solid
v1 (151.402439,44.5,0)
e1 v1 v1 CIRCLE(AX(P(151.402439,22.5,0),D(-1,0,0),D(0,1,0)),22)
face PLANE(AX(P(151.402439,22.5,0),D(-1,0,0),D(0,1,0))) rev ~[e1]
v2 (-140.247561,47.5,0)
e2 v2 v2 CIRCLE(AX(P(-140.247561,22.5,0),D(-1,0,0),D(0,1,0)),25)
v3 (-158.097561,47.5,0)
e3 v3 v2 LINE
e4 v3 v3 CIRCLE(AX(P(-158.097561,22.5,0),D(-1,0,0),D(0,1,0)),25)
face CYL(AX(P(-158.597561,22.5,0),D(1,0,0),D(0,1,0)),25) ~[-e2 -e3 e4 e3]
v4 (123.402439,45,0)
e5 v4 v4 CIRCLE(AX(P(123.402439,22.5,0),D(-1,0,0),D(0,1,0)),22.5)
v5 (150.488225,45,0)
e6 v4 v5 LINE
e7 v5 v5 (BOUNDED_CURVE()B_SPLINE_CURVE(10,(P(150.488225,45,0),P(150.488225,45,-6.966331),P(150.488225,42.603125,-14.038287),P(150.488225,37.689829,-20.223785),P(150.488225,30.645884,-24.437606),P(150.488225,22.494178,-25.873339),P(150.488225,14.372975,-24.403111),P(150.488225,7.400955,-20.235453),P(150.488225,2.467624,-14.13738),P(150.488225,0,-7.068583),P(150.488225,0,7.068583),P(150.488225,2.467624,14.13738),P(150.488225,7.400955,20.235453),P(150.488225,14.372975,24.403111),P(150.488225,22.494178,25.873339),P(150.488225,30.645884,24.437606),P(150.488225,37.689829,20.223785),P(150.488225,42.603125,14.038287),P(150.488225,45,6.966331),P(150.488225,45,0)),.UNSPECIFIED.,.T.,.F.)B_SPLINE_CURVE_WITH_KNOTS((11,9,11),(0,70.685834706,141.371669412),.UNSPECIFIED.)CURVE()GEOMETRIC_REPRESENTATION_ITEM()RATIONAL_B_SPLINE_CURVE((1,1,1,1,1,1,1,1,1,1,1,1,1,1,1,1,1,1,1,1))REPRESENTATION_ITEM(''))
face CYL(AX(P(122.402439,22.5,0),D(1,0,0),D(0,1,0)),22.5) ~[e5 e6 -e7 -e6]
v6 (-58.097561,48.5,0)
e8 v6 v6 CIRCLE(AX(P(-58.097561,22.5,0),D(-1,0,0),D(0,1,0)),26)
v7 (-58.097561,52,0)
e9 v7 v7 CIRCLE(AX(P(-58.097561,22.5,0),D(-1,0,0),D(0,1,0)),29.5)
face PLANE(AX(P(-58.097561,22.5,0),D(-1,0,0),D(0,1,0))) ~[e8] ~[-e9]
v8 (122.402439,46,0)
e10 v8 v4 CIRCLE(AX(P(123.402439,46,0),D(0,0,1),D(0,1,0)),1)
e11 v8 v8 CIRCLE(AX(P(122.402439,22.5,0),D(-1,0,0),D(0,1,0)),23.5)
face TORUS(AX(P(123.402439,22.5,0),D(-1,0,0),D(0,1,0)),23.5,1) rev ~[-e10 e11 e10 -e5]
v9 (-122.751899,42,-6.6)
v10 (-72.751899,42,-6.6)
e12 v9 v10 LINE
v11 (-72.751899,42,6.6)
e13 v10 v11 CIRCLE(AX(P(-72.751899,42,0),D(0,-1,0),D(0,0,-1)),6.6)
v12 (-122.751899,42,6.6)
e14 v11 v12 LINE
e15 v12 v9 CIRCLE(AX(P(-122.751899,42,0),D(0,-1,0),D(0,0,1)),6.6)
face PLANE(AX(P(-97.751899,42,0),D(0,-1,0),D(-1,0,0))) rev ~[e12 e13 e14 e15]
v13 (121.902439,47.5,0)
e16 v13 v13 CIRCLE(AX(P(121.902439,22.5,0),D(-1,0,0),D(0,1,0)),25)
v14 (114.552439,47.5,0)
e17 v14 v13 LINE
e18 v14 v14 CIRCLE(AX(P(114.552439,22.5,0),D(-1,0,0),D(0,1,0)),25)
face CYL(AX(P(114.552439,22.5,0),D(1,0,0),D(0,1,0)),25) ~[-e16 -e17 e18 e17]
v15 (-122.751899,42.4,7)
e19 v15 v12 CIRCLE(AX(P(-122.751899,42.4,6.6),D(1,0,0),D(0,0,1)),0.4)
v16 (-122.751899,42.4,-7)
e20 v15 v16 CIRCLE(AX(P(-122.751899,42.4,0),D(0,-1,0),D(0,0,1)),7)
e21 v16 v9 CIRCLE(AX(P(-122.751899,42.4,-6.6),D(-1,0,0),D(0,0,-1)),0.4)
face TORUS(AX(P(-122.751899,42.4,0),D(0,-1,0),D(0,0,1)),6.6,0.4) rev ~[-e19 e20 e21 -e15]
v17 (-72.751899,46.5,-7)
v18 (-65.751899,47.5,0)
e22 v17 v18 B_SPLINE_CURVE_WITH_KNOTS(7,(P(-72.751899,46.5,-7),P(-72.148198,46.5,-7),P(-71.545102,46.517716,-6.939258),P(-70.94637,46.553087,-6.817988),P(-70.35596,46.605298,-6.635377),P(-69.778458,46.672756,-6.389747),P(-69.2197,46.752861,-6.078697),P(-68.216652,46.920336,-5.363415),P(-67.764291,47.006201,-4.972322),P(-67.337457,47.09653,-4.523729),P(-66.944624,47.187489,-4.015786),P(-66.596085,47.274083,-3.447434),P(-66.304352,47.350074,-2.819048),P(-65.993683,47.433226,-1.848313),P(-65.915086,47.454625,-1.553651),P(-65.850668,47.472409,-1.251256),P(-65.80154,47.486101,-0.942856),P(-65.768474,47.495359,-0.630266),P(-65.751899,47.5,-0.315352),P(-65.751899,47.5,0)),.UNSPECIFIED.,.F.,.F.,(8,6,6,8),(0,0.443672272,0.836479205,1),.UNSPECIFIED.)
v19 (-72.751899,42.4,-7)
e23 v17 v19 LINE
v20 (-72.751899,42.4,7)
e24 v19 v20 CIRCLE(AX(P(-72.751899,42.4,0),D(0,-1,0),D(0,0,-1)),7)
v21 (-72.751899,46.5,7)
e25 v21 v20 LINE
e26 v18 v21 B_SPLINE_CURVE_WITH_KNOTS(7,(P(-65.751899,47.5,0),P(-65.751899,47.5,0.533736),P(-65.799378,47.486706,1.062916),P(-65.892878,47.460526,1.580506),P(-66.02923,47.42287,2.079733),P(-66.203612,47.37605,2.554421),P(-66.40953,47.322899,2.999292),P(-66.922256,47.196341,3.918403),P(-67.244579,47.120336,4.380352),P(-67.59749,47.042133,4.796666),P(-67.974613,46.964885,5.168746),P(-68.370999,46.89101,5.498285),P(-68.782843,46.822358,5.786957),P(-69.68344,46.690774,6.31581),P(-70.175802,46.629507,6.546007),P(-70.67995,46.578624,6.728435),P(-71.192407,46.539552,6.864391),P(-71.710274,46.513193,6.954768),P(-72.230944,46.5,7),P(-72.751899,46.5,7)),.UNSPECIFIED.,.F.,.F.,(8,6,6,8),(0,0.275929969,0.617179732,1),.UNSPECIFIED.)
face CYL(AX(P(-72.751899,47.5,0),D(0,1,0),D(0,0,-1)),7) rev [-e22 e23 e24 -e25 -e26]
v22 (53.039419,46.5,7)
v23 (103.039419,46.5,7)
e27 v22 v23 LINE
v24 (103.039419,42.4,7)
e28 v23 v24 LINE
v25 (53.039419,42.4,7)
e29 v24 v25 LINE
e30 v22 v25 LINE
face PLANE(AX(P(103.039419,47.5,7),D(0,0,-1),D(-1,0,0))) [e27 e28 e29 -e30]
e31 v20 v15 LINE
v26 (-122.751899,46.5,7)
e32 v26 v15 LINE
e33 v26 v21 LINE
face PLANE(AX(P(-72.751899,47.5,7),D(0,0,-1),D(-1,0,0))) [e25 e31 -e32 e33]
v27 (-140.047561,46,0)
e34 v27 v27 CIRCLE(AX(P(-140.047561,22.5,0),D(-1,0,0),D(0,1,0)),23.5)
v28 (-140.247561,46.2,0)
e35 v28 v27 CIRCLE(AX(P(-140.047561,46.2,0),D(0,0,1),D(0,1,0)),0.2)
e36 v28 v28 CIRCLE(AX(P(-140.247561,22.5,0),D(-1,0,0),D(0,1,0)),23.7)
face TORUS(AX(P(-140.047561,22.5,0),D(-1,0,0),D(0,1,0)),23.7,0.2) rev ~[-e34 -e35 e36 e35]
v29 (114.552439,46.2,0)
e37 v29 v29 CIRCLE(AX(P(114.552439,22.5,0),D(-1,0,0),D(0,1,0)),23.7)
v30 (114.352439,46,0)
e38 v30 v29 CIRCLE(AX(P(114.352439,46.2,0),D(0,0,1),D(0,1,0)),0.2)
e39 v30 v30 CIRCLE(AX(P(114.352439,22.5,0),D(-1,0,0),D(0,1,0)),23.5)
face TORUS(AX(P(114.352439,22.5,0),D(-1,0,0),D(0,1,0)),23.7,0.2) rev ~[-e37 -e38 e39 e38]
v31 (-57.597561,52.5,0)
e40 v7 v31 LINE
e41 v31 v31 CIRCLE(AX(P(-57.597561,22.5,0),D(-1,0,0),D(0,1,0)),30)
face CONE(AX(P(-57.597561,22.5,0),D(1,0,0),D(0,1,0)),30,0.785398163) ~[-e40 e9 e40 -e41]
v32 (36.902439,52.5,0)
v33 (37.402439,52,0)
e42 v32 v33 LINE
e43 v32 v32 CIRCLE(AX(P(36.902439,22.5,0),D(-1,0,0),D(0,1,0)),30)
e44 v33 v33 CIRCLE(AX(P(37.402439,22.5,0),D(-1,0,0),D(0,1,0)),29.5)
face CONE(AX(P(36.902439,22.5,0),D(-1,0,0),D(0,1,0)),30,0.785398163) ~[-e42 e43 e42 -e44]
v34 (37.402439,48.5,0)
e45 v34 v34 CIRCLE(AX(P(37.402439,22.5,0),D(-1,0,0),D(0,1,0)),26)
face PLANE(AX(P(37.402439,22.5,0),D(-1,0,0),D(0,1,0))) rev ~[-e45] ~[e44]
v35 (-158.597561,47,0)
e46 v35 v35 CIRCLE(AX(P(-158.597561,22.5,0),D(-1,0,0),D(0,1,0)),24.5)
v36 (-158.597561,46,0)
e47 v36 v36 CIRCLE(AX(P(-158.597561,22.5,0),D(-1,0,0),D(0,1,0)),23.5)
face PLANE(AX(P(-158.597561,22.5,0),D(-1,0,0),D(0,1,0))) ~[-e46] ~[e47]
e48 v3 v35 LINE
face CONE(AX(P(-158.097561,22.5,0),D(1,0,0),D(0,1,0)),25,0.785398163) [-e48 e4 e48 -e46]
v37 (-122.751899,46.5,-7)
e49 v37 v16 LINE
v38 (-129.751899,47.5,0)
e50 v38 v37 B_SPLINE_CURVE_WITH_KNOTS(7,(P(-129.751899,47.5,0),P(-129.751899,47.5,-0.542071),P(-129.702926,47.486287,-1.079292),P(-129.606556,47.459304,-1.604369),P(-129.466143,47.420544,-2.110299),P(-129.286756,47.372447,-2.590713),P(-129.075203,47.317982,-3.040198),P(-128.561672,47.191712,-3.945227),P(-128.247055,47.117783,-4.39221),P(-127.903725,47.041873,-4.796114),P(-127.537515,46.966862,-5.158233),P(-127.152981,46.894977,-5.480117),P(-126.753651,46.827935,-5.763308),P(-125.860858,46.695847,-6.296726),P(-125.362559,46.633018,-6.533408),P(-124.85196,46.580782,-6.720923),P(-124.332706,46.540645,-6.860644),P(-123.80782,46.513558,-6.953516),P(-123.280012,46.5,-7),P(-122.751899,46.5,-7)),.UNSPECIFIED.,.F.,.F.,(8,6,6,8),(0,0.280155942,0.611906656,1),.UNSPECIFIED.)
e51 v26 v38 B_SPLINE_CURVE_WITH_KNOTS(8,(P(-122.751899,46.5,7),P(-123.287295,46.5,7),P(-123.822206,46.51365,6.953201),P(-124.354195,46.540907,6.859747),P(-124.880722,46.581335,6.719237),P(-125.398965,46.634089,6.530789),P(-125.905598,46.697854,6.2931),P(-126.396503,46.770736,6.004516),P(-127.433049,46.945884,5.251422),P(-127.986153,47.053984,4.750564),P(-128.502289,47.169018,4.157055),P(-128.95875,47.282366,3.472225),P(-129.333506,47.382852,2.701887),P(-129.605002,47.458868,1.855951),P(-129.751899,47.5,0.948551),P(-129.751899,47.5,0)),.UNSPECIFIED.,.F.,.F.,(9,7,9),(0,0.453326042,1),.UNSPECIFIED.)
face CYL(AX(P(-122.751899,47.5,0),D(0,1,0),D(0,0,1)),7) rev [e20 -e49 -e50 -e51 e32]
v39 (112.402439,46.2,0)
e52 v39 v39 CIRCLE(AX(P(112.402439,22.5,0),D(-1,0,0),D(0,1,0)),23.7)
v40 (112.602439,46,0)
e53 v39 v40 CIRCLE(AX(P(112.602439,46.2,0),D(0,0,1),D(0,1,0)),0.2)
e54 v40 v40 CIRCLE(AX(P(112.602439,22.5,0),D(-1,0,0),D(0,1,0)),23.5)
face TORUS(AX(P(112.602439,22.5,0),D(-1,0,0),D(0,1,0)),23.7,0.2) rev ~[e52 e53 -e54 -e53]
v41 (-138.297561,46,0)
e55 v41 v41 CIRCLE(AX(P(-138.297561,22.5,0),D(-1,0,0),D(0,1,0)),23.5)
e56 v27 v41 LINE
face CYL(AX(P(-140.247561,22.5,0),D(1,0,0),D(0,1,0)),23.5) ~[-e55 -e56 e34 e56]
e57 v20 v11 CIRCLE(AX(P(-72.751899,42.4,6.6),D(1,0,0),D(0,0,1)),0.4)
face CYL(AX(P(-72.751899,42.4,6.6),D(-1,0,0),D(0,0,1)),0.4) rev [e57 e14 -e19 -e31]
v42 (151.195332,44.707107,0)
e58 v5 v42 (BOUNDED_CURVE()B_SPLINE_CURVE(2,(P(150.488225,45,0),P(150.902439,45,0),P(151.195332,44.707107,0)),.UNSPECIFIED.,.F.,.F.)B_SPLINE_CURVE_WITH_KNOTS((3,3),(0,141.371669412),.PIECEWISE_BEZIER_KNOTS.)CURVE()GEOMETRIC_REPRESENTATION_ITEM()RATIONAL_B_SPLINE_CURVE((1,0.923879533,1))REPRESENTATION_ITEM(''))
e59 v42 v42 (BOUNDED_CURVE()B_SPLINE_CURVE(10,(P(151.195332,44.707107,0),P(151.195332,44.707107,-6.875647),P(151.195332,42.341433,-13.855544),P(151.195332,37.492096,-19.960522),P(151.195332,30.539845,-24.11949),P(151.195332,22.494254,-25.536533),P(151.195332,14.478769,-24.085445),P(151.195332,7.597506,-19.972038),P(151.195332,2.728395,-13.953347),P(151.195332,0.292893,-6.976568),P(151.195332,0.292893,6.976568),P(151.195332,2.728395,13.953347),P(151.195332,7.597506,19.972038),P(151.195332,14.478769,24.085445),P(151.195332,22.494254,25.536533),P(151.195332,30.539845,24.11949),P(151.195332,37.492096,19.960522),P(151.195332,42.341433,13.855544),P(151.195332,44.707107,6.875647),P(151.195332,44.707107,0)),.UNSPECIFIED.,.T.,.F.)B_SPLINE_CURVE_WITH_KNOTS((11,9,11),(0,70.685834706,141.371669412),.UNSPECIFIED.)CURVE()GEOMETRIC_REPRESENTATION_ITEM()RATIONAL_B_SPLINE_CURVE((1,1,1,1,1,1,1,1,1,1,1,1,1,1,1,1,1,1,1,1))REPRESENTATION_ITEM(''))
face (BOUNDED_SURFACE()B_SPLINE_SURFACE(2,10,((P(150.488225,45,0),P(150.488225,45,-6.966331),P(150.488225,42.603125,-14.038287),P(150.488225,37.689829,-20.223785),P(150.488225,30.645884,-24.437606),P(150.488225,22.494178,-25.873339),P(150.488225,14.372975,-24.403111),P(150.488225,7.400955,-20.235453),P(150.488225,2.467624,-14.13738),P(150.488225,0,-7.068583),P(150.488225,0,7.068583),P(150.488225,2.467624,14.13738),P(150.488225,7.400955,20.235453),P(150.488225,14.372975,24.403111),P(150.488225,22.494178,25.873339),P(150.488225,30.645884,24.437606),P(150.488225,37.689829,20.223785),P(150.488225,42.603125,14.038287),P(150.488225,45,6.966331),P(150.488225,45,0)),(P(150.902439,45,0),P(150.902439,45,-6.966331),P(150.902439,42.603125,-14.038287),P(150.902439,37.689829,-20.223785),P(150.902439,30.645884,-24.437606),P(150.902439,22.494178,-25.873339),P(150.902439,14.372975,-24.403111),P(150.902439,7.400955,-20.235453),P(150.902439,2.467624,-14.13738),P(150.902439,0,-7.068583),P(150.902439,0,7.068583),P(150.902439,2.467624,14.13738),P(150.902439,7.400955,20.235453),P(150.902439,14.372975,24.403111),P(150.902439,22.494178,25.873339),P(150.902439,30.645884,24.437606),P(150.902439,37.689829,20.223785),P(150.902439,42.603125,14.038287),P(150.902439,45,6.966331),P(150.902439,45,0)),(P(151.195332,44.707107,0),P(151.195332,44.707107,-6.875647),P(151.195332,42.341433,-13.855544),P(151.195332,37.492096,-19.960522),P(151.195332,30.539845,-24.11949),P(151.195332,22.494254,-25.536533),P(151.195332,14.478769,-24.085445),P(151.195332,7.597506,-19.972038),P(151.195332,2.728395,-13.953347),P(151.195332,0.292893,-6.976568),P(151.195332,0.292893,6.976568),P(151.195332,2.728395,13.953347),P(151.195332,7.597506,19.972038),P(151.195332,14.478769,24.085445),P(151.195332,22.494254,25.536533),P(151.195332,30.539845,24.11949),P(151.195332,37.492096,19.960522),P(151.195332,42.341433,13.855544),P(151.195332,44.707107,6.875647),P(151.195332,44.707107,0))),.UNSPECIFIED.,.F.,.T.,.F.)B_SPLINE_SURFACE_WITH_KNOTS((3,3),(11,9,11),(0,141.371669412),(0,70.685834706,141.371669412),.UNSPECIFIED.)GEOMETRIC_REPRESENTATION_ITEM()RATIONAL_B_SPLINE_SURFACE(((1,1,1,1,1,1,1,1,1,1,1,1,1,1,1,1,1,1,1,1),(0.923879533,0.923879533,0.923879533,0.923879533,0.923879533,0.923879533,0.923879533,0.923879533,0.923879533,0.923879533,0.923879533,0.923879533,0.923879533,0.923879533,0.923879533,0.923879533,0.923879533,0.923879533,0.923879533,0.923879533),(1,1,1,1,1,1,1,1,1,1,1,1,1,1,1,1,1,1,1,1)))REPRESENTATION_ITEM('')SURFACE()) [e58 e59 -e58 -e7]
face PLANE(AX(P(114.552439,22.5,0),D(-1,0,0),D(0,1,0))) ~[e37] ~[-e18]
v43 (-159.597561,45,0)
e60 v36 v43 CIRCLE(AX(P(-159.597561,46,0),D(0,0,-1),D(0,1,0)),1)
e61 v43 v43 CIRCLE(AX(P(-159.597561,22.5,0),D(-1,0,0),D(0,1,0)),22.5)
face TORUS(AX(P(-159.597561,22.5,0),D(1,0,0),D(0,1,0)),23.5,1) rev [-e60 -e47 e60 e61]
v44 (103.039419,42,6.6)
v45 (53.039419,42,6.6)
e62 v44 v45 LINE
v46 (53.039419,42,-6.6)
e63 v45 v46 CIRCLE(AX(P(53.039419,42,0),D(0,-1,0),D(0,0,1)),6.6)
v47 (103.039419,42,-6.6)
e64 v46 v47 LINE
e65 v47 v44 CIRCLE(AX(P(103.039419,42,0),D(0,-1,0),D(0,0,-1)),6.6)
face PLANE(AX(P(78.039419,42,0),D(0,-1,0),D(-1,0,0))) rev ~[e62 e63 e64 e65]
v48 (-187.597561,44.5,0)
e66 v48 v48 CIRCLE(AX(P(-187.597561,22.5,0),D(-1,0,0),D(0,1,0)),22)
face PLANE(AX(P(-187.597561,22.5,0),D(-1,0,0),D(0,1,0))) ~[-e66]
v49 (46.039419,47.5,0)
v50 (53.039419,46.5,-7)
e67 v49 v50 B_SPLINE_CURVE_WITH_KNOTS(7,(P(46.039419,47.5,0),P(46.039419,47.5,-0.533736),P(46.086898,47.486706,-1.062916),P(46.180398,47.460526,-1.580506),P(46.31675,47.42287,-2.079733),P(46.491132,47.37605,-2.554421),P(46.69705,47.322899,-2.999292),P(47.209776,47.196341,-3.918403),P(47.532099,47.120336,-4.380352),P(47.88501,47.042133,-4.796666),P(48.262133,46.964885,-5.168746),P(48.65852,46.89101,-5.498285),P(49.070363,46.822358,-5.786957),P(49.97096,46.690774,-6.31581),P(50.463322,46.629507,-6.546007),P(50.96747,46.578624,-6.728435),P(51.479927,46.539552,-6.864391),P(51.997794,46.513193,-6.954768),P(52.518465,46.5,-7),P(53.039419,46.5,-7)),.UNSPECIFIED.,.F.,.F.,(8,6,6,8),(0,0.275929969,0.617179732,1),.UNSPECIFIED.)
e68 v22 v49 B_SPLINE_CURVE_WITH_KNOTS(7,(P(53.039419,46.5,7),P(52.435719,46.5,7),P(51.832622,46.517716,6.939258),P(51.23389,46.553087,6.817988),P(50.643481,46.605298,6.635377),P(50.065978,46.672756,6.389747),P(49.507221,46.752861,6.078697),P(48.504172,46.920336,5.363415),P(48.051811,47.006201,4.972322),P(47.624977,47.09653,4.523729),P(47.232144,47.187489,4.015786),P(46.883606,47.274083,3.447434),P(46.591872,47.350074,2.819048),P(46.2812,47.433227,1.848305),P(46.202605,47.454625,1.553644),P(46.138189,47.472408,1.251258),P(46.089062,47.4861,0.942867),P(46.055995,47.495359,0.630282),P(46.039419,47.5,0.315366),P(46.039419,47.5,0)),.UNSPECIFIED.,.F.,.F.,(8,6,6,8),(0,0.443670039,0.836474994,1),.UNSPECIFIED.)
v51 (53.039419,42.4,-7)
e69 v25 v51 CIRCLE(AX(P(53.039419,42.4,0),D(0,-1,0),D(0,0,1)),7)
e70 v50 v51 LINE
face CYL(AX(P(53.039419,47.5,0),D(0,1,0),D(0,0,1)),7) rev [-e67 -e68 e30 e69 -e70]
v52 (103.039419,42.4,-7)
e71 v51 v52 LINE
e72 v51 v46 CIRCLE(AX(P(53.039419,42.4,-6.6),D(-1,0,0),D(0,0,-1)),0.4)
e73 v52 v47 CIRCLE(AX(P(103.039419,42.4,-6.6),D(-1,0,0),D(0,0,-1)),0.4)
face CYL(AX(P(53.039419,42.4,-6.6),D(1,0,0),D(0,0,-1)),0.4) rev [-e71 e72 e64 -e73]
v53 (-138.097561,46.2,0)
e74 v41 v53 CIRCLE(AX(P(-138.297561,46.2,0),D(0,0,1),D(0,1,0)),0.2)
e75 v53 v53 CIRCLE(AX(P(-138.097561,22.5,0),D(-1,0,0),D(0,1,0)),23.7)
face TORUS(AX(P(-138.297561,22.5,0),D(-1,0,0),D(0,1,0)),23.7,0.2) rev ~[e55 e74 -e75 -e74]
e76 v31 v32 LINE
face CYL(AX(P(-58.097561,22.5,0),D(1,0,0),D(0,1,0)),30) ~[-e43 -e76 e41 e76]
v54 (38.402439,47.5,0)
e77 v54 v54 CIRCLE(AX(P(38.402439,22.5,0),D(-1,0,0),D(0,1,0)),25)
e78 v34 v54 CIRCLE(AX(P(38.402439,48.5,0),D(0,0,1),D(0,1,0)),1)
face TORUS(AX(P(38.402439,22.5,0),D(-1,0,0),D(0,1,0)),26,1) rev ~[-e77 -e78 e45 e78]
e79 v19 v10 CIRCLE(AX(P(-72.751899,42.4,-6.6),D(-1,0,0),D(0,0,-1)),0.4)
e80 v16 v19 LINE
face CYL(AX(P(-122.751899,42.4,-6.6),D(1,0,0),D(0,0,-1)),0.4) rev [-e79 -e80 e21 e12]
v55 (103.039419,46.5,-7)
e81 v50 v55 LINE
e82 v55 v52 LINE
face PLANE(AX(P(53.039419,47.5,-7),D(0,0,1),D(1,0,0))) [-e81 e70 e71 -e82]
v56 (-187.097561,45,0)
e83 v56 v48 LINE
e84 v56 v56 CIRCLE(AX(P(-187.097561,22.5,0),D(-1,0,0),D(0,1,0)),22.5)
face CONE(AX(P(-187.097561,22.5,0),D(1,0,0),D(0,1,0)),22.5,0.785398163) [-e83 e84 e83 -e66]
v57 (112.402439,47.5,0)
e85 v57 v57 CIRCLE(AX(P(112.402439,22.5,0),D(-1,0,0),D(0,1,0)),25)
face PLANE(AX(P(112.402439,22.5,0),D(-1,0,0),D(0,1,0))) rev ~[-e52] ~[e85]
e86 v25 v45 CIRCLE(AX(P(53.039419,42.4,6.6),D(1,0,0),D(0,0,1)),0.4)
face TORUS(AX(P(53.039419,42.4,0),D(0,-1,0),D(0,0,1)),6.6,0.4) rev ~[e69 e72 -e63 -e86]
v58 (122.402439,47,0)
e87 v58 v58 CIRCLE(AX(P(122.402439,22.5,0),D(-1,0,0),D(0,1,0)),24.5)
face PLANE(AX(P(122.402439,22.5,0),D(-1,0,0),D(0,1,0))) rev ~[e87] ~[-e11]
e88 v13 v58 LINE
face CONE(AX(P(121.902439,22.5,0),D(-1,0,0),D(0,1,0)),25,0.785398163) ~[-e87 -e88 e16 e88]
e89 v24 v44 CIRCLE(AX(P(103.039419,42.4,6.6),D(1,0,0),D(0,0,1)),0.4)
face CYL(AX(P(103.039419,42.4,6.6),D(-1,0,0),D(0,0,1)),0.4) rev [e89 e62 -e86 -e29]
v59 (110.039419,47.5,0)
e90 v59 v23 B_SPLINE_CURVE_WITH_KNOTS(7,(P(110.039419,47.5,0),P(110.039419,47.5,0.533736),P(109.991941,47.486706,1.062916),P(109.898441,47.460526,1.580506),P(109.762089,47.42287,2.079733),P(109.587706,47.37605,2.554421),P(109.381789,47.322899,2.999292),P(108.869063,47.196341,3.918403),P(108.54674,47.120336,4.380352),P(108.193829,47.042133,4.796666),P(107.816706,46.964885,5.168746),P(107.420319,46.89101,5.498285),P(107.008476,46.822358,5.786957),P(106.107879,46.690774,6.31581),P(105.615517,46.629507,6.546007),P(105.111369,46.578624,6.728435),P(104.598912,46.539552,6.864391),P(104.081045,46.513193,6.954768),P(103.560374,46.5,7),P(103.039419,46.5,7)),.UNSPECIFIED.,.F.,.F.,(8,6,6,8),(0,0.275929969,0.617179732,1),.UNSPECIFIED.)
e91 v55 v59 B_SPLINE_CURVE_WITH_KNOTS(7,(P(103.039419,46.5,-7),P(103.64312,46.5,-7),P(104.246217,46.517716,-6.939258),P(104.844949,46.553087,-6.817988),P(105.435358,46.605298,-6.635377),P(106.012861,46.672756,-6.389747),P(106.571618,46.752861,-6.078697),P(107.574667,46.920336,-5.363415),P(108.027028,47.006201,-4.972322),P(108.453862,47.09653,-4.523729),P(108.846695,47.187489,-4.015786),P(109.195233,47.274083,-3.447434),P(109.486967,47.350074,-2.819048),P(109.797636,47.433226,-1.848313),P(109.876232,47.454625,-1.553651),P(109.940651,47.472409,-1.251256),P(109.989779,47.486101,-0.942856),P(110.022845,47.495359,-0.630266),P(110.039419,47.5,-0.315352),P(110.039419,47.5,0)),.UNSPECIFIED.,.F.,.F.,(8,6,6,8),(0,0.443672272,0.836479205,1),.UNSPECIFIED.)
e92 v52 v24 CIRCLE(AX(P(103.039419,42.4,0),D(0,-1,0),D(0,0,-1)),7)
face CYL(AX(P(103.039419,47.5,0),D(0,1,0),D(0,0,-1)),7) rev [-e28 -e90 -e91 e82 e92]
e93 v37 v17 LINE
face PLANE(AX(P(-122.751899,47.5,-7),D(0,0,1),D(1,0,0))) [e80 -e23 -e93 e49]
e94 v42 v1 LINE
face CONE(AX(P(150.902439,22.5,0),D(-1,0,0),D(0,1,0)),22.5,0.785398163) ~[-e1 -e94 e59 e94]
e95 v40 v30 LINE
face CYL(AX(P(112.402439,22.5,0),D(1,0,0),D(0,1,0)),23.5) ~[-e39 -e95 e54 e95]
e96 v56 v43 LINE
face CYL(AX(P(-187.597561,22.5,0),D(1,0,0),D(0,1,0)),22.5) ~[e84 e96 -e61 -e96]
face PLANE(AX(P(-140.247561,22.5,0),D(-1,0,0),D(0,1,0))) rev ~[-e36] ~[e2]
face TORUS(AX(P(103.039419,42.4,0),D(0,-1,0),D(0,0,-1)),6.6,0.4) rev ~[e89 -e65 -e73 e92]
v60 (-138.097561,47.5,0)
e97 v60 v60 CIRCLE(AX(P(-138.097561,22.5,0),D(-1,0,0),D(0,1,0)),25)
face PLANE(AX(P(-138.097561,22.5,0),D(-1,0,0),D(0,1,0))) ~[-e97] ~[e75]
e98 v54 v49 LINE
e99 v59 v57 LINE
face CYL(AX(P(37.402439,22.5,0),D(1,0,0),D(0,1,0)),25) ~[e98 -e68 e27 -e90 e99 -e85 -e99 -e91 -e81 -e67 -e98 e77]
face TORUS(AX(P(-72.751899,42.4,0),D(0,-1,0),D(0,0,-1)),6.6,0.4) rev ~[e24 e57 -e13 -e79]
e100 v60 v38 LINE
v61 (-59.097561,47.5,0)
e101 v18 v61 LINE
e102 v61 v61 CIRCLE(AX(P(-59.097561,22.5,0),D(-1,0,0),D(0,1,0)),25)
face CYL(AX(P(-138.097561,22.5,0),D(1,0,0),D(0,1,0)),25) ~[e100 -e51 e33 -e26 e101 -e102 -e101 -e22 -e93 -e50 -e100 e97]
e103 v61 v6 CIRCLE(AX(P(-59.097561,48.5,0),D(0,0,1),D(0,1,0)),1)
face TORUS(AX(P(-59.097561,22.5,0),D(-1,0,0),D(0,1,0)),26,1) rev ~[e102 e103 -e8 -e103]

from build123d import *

# Parameters (mm, degrees)
FILLET1_R          = 0.2
CUT_EXTRUDE1_DEPTH = 5.5
CUT_EXTRUDE2_DEPTH = 5.5
CHAMFER1_SIZE      = 0.5
FILLET2_R          = 1
FILLET3_R          = 0.4


with BuildPart() as part:
    # Sketch1 → Revolve1 (revolve)
    with BuildSketch(Plane.XY):
        Polygon((-187.597560976, 22.5), (-187.597560976, 45), (-158.597560976, 45), (-158.597560976, 47.5), (-140.247560976, 47.5), (-140.247560976, 46), (-138.097560976, 46), (-138.097560976, 47.5), (-58.097560976, 47.5), (-58.097560976, 52.5), (37.402439024, 52.5), (37.402439024, 47.5), (112.402439024, 47.5), (112.402439024, 46), (114.552439024, 46), (114.552439024, 47.5), (122.402439024, 47.5), (122.402439024, 45), (151.402439024, 45), (151.402439024, 22.5), align=None)
    revolve(axis=Axis((151.402439024, 22.5, 0), (-1, 0, 0)))

    # Fillet1
    fillet1_edges = [part.edges().sort_by_distance(p)[0] for p in [
        (114.552439024, -1, 0),
        (112.402439024, -1, 0),
        (-138.097560976, -1, 0),
        (-140.247560976, -1, 0),
    ]]
    fillet(fillet1_edges, radius=FILLET1_R)

    # Sketch3 → Cut-Extrude1 (cut)
    with BuildSketch(Plane(origin=(0, 47.5, 0), x_dir=(1, 0, 0), z_dir=(0, 1, 0))):
        with BuildLine():
            Line((103.039419427, -7), (53.039419427, -7))
            ThreePointArc((53.039419427, -7), (46.039419427, 0), (53.039419427, 7))
            Line((53.039419427, 7), (103.039419427, 7))
            ThreePointArc((103.039419427, 7), (110.039419427, 0), (103.039419427, -7))
        make_face()
    extrude(amount=-CUT_EXTRUDE1_DEPTH, mode=Mode.SUBTRACT)

    # Sketch2 → Cut-Extrude2 (cut)
    with BuildSketch(Plane(origin=(0, 47.5, 0), x_dir=(1, 0, 0), z_dir=(0, 1, 0))):
        with BuildLine():
            Line((-72.751899335, -7), (-122.751899335, -7))
            ThreePointArc((-122.751899335, -7), (-129.751899335, 0), (-122.751899335, 7))
            Line((-122.751899335, 7), (-72.751899335, 7))
            ThreePointArc((-72.751899335, 7), (-65.751899335, 0), (-72.751899335, -7))
        make_face()
    extrude(amount=-CUT_EXTRUDE2_DEPTH, mode=Mode.SUBTRACT)

    # Chamfer1
    chamfer1_edges = [part.edges().sort_by_distance(p)[0] for p in [
        (151.402439024, 0, 0),
        (122.402439024, -2.5, 0),
        (37.402439024, -7.5, 0),
        (-58.097560976, -7.5, 0),
        (-158.597560976, -2.5, 0),
        (-187.597560976, 0, 0),
    ]]
    chamfer(chamfer1_edges, length=CHAMFER1_SIZE)

    # Fillet2
    fillet2_edges = [part.edges().sort_by_distance(p)[0] for p in [
        (122.402439024, 0, 0),
        (37.402439024, -2.5, 0),
        (-58.097560976, -2.5, 0),
        (-158.597560976, 0, 0),
        (150.902439024, 0, 0),
    ]]
    fillet(fillet2_edges, radius=FILLET2_R)

    # Fillet3
    fillet3_edges = [part.edges().sort_by_distance(p)[0] for p in [
        (110.039419427, 42, 0),
        (78.039419427, 42, 7),
        (46.039419427, 42, 0),
        (78.039419427, 42, -7),
        (-65.751899335, 42, 0),
        (-129.751899335, 42, 0),
        (-97.751899335, 42, -7),
        (-97.751899335, 42, 7),
    ]]
    fillet(fillet3_edges, radius=FILLET3_R)


solid = part.part
